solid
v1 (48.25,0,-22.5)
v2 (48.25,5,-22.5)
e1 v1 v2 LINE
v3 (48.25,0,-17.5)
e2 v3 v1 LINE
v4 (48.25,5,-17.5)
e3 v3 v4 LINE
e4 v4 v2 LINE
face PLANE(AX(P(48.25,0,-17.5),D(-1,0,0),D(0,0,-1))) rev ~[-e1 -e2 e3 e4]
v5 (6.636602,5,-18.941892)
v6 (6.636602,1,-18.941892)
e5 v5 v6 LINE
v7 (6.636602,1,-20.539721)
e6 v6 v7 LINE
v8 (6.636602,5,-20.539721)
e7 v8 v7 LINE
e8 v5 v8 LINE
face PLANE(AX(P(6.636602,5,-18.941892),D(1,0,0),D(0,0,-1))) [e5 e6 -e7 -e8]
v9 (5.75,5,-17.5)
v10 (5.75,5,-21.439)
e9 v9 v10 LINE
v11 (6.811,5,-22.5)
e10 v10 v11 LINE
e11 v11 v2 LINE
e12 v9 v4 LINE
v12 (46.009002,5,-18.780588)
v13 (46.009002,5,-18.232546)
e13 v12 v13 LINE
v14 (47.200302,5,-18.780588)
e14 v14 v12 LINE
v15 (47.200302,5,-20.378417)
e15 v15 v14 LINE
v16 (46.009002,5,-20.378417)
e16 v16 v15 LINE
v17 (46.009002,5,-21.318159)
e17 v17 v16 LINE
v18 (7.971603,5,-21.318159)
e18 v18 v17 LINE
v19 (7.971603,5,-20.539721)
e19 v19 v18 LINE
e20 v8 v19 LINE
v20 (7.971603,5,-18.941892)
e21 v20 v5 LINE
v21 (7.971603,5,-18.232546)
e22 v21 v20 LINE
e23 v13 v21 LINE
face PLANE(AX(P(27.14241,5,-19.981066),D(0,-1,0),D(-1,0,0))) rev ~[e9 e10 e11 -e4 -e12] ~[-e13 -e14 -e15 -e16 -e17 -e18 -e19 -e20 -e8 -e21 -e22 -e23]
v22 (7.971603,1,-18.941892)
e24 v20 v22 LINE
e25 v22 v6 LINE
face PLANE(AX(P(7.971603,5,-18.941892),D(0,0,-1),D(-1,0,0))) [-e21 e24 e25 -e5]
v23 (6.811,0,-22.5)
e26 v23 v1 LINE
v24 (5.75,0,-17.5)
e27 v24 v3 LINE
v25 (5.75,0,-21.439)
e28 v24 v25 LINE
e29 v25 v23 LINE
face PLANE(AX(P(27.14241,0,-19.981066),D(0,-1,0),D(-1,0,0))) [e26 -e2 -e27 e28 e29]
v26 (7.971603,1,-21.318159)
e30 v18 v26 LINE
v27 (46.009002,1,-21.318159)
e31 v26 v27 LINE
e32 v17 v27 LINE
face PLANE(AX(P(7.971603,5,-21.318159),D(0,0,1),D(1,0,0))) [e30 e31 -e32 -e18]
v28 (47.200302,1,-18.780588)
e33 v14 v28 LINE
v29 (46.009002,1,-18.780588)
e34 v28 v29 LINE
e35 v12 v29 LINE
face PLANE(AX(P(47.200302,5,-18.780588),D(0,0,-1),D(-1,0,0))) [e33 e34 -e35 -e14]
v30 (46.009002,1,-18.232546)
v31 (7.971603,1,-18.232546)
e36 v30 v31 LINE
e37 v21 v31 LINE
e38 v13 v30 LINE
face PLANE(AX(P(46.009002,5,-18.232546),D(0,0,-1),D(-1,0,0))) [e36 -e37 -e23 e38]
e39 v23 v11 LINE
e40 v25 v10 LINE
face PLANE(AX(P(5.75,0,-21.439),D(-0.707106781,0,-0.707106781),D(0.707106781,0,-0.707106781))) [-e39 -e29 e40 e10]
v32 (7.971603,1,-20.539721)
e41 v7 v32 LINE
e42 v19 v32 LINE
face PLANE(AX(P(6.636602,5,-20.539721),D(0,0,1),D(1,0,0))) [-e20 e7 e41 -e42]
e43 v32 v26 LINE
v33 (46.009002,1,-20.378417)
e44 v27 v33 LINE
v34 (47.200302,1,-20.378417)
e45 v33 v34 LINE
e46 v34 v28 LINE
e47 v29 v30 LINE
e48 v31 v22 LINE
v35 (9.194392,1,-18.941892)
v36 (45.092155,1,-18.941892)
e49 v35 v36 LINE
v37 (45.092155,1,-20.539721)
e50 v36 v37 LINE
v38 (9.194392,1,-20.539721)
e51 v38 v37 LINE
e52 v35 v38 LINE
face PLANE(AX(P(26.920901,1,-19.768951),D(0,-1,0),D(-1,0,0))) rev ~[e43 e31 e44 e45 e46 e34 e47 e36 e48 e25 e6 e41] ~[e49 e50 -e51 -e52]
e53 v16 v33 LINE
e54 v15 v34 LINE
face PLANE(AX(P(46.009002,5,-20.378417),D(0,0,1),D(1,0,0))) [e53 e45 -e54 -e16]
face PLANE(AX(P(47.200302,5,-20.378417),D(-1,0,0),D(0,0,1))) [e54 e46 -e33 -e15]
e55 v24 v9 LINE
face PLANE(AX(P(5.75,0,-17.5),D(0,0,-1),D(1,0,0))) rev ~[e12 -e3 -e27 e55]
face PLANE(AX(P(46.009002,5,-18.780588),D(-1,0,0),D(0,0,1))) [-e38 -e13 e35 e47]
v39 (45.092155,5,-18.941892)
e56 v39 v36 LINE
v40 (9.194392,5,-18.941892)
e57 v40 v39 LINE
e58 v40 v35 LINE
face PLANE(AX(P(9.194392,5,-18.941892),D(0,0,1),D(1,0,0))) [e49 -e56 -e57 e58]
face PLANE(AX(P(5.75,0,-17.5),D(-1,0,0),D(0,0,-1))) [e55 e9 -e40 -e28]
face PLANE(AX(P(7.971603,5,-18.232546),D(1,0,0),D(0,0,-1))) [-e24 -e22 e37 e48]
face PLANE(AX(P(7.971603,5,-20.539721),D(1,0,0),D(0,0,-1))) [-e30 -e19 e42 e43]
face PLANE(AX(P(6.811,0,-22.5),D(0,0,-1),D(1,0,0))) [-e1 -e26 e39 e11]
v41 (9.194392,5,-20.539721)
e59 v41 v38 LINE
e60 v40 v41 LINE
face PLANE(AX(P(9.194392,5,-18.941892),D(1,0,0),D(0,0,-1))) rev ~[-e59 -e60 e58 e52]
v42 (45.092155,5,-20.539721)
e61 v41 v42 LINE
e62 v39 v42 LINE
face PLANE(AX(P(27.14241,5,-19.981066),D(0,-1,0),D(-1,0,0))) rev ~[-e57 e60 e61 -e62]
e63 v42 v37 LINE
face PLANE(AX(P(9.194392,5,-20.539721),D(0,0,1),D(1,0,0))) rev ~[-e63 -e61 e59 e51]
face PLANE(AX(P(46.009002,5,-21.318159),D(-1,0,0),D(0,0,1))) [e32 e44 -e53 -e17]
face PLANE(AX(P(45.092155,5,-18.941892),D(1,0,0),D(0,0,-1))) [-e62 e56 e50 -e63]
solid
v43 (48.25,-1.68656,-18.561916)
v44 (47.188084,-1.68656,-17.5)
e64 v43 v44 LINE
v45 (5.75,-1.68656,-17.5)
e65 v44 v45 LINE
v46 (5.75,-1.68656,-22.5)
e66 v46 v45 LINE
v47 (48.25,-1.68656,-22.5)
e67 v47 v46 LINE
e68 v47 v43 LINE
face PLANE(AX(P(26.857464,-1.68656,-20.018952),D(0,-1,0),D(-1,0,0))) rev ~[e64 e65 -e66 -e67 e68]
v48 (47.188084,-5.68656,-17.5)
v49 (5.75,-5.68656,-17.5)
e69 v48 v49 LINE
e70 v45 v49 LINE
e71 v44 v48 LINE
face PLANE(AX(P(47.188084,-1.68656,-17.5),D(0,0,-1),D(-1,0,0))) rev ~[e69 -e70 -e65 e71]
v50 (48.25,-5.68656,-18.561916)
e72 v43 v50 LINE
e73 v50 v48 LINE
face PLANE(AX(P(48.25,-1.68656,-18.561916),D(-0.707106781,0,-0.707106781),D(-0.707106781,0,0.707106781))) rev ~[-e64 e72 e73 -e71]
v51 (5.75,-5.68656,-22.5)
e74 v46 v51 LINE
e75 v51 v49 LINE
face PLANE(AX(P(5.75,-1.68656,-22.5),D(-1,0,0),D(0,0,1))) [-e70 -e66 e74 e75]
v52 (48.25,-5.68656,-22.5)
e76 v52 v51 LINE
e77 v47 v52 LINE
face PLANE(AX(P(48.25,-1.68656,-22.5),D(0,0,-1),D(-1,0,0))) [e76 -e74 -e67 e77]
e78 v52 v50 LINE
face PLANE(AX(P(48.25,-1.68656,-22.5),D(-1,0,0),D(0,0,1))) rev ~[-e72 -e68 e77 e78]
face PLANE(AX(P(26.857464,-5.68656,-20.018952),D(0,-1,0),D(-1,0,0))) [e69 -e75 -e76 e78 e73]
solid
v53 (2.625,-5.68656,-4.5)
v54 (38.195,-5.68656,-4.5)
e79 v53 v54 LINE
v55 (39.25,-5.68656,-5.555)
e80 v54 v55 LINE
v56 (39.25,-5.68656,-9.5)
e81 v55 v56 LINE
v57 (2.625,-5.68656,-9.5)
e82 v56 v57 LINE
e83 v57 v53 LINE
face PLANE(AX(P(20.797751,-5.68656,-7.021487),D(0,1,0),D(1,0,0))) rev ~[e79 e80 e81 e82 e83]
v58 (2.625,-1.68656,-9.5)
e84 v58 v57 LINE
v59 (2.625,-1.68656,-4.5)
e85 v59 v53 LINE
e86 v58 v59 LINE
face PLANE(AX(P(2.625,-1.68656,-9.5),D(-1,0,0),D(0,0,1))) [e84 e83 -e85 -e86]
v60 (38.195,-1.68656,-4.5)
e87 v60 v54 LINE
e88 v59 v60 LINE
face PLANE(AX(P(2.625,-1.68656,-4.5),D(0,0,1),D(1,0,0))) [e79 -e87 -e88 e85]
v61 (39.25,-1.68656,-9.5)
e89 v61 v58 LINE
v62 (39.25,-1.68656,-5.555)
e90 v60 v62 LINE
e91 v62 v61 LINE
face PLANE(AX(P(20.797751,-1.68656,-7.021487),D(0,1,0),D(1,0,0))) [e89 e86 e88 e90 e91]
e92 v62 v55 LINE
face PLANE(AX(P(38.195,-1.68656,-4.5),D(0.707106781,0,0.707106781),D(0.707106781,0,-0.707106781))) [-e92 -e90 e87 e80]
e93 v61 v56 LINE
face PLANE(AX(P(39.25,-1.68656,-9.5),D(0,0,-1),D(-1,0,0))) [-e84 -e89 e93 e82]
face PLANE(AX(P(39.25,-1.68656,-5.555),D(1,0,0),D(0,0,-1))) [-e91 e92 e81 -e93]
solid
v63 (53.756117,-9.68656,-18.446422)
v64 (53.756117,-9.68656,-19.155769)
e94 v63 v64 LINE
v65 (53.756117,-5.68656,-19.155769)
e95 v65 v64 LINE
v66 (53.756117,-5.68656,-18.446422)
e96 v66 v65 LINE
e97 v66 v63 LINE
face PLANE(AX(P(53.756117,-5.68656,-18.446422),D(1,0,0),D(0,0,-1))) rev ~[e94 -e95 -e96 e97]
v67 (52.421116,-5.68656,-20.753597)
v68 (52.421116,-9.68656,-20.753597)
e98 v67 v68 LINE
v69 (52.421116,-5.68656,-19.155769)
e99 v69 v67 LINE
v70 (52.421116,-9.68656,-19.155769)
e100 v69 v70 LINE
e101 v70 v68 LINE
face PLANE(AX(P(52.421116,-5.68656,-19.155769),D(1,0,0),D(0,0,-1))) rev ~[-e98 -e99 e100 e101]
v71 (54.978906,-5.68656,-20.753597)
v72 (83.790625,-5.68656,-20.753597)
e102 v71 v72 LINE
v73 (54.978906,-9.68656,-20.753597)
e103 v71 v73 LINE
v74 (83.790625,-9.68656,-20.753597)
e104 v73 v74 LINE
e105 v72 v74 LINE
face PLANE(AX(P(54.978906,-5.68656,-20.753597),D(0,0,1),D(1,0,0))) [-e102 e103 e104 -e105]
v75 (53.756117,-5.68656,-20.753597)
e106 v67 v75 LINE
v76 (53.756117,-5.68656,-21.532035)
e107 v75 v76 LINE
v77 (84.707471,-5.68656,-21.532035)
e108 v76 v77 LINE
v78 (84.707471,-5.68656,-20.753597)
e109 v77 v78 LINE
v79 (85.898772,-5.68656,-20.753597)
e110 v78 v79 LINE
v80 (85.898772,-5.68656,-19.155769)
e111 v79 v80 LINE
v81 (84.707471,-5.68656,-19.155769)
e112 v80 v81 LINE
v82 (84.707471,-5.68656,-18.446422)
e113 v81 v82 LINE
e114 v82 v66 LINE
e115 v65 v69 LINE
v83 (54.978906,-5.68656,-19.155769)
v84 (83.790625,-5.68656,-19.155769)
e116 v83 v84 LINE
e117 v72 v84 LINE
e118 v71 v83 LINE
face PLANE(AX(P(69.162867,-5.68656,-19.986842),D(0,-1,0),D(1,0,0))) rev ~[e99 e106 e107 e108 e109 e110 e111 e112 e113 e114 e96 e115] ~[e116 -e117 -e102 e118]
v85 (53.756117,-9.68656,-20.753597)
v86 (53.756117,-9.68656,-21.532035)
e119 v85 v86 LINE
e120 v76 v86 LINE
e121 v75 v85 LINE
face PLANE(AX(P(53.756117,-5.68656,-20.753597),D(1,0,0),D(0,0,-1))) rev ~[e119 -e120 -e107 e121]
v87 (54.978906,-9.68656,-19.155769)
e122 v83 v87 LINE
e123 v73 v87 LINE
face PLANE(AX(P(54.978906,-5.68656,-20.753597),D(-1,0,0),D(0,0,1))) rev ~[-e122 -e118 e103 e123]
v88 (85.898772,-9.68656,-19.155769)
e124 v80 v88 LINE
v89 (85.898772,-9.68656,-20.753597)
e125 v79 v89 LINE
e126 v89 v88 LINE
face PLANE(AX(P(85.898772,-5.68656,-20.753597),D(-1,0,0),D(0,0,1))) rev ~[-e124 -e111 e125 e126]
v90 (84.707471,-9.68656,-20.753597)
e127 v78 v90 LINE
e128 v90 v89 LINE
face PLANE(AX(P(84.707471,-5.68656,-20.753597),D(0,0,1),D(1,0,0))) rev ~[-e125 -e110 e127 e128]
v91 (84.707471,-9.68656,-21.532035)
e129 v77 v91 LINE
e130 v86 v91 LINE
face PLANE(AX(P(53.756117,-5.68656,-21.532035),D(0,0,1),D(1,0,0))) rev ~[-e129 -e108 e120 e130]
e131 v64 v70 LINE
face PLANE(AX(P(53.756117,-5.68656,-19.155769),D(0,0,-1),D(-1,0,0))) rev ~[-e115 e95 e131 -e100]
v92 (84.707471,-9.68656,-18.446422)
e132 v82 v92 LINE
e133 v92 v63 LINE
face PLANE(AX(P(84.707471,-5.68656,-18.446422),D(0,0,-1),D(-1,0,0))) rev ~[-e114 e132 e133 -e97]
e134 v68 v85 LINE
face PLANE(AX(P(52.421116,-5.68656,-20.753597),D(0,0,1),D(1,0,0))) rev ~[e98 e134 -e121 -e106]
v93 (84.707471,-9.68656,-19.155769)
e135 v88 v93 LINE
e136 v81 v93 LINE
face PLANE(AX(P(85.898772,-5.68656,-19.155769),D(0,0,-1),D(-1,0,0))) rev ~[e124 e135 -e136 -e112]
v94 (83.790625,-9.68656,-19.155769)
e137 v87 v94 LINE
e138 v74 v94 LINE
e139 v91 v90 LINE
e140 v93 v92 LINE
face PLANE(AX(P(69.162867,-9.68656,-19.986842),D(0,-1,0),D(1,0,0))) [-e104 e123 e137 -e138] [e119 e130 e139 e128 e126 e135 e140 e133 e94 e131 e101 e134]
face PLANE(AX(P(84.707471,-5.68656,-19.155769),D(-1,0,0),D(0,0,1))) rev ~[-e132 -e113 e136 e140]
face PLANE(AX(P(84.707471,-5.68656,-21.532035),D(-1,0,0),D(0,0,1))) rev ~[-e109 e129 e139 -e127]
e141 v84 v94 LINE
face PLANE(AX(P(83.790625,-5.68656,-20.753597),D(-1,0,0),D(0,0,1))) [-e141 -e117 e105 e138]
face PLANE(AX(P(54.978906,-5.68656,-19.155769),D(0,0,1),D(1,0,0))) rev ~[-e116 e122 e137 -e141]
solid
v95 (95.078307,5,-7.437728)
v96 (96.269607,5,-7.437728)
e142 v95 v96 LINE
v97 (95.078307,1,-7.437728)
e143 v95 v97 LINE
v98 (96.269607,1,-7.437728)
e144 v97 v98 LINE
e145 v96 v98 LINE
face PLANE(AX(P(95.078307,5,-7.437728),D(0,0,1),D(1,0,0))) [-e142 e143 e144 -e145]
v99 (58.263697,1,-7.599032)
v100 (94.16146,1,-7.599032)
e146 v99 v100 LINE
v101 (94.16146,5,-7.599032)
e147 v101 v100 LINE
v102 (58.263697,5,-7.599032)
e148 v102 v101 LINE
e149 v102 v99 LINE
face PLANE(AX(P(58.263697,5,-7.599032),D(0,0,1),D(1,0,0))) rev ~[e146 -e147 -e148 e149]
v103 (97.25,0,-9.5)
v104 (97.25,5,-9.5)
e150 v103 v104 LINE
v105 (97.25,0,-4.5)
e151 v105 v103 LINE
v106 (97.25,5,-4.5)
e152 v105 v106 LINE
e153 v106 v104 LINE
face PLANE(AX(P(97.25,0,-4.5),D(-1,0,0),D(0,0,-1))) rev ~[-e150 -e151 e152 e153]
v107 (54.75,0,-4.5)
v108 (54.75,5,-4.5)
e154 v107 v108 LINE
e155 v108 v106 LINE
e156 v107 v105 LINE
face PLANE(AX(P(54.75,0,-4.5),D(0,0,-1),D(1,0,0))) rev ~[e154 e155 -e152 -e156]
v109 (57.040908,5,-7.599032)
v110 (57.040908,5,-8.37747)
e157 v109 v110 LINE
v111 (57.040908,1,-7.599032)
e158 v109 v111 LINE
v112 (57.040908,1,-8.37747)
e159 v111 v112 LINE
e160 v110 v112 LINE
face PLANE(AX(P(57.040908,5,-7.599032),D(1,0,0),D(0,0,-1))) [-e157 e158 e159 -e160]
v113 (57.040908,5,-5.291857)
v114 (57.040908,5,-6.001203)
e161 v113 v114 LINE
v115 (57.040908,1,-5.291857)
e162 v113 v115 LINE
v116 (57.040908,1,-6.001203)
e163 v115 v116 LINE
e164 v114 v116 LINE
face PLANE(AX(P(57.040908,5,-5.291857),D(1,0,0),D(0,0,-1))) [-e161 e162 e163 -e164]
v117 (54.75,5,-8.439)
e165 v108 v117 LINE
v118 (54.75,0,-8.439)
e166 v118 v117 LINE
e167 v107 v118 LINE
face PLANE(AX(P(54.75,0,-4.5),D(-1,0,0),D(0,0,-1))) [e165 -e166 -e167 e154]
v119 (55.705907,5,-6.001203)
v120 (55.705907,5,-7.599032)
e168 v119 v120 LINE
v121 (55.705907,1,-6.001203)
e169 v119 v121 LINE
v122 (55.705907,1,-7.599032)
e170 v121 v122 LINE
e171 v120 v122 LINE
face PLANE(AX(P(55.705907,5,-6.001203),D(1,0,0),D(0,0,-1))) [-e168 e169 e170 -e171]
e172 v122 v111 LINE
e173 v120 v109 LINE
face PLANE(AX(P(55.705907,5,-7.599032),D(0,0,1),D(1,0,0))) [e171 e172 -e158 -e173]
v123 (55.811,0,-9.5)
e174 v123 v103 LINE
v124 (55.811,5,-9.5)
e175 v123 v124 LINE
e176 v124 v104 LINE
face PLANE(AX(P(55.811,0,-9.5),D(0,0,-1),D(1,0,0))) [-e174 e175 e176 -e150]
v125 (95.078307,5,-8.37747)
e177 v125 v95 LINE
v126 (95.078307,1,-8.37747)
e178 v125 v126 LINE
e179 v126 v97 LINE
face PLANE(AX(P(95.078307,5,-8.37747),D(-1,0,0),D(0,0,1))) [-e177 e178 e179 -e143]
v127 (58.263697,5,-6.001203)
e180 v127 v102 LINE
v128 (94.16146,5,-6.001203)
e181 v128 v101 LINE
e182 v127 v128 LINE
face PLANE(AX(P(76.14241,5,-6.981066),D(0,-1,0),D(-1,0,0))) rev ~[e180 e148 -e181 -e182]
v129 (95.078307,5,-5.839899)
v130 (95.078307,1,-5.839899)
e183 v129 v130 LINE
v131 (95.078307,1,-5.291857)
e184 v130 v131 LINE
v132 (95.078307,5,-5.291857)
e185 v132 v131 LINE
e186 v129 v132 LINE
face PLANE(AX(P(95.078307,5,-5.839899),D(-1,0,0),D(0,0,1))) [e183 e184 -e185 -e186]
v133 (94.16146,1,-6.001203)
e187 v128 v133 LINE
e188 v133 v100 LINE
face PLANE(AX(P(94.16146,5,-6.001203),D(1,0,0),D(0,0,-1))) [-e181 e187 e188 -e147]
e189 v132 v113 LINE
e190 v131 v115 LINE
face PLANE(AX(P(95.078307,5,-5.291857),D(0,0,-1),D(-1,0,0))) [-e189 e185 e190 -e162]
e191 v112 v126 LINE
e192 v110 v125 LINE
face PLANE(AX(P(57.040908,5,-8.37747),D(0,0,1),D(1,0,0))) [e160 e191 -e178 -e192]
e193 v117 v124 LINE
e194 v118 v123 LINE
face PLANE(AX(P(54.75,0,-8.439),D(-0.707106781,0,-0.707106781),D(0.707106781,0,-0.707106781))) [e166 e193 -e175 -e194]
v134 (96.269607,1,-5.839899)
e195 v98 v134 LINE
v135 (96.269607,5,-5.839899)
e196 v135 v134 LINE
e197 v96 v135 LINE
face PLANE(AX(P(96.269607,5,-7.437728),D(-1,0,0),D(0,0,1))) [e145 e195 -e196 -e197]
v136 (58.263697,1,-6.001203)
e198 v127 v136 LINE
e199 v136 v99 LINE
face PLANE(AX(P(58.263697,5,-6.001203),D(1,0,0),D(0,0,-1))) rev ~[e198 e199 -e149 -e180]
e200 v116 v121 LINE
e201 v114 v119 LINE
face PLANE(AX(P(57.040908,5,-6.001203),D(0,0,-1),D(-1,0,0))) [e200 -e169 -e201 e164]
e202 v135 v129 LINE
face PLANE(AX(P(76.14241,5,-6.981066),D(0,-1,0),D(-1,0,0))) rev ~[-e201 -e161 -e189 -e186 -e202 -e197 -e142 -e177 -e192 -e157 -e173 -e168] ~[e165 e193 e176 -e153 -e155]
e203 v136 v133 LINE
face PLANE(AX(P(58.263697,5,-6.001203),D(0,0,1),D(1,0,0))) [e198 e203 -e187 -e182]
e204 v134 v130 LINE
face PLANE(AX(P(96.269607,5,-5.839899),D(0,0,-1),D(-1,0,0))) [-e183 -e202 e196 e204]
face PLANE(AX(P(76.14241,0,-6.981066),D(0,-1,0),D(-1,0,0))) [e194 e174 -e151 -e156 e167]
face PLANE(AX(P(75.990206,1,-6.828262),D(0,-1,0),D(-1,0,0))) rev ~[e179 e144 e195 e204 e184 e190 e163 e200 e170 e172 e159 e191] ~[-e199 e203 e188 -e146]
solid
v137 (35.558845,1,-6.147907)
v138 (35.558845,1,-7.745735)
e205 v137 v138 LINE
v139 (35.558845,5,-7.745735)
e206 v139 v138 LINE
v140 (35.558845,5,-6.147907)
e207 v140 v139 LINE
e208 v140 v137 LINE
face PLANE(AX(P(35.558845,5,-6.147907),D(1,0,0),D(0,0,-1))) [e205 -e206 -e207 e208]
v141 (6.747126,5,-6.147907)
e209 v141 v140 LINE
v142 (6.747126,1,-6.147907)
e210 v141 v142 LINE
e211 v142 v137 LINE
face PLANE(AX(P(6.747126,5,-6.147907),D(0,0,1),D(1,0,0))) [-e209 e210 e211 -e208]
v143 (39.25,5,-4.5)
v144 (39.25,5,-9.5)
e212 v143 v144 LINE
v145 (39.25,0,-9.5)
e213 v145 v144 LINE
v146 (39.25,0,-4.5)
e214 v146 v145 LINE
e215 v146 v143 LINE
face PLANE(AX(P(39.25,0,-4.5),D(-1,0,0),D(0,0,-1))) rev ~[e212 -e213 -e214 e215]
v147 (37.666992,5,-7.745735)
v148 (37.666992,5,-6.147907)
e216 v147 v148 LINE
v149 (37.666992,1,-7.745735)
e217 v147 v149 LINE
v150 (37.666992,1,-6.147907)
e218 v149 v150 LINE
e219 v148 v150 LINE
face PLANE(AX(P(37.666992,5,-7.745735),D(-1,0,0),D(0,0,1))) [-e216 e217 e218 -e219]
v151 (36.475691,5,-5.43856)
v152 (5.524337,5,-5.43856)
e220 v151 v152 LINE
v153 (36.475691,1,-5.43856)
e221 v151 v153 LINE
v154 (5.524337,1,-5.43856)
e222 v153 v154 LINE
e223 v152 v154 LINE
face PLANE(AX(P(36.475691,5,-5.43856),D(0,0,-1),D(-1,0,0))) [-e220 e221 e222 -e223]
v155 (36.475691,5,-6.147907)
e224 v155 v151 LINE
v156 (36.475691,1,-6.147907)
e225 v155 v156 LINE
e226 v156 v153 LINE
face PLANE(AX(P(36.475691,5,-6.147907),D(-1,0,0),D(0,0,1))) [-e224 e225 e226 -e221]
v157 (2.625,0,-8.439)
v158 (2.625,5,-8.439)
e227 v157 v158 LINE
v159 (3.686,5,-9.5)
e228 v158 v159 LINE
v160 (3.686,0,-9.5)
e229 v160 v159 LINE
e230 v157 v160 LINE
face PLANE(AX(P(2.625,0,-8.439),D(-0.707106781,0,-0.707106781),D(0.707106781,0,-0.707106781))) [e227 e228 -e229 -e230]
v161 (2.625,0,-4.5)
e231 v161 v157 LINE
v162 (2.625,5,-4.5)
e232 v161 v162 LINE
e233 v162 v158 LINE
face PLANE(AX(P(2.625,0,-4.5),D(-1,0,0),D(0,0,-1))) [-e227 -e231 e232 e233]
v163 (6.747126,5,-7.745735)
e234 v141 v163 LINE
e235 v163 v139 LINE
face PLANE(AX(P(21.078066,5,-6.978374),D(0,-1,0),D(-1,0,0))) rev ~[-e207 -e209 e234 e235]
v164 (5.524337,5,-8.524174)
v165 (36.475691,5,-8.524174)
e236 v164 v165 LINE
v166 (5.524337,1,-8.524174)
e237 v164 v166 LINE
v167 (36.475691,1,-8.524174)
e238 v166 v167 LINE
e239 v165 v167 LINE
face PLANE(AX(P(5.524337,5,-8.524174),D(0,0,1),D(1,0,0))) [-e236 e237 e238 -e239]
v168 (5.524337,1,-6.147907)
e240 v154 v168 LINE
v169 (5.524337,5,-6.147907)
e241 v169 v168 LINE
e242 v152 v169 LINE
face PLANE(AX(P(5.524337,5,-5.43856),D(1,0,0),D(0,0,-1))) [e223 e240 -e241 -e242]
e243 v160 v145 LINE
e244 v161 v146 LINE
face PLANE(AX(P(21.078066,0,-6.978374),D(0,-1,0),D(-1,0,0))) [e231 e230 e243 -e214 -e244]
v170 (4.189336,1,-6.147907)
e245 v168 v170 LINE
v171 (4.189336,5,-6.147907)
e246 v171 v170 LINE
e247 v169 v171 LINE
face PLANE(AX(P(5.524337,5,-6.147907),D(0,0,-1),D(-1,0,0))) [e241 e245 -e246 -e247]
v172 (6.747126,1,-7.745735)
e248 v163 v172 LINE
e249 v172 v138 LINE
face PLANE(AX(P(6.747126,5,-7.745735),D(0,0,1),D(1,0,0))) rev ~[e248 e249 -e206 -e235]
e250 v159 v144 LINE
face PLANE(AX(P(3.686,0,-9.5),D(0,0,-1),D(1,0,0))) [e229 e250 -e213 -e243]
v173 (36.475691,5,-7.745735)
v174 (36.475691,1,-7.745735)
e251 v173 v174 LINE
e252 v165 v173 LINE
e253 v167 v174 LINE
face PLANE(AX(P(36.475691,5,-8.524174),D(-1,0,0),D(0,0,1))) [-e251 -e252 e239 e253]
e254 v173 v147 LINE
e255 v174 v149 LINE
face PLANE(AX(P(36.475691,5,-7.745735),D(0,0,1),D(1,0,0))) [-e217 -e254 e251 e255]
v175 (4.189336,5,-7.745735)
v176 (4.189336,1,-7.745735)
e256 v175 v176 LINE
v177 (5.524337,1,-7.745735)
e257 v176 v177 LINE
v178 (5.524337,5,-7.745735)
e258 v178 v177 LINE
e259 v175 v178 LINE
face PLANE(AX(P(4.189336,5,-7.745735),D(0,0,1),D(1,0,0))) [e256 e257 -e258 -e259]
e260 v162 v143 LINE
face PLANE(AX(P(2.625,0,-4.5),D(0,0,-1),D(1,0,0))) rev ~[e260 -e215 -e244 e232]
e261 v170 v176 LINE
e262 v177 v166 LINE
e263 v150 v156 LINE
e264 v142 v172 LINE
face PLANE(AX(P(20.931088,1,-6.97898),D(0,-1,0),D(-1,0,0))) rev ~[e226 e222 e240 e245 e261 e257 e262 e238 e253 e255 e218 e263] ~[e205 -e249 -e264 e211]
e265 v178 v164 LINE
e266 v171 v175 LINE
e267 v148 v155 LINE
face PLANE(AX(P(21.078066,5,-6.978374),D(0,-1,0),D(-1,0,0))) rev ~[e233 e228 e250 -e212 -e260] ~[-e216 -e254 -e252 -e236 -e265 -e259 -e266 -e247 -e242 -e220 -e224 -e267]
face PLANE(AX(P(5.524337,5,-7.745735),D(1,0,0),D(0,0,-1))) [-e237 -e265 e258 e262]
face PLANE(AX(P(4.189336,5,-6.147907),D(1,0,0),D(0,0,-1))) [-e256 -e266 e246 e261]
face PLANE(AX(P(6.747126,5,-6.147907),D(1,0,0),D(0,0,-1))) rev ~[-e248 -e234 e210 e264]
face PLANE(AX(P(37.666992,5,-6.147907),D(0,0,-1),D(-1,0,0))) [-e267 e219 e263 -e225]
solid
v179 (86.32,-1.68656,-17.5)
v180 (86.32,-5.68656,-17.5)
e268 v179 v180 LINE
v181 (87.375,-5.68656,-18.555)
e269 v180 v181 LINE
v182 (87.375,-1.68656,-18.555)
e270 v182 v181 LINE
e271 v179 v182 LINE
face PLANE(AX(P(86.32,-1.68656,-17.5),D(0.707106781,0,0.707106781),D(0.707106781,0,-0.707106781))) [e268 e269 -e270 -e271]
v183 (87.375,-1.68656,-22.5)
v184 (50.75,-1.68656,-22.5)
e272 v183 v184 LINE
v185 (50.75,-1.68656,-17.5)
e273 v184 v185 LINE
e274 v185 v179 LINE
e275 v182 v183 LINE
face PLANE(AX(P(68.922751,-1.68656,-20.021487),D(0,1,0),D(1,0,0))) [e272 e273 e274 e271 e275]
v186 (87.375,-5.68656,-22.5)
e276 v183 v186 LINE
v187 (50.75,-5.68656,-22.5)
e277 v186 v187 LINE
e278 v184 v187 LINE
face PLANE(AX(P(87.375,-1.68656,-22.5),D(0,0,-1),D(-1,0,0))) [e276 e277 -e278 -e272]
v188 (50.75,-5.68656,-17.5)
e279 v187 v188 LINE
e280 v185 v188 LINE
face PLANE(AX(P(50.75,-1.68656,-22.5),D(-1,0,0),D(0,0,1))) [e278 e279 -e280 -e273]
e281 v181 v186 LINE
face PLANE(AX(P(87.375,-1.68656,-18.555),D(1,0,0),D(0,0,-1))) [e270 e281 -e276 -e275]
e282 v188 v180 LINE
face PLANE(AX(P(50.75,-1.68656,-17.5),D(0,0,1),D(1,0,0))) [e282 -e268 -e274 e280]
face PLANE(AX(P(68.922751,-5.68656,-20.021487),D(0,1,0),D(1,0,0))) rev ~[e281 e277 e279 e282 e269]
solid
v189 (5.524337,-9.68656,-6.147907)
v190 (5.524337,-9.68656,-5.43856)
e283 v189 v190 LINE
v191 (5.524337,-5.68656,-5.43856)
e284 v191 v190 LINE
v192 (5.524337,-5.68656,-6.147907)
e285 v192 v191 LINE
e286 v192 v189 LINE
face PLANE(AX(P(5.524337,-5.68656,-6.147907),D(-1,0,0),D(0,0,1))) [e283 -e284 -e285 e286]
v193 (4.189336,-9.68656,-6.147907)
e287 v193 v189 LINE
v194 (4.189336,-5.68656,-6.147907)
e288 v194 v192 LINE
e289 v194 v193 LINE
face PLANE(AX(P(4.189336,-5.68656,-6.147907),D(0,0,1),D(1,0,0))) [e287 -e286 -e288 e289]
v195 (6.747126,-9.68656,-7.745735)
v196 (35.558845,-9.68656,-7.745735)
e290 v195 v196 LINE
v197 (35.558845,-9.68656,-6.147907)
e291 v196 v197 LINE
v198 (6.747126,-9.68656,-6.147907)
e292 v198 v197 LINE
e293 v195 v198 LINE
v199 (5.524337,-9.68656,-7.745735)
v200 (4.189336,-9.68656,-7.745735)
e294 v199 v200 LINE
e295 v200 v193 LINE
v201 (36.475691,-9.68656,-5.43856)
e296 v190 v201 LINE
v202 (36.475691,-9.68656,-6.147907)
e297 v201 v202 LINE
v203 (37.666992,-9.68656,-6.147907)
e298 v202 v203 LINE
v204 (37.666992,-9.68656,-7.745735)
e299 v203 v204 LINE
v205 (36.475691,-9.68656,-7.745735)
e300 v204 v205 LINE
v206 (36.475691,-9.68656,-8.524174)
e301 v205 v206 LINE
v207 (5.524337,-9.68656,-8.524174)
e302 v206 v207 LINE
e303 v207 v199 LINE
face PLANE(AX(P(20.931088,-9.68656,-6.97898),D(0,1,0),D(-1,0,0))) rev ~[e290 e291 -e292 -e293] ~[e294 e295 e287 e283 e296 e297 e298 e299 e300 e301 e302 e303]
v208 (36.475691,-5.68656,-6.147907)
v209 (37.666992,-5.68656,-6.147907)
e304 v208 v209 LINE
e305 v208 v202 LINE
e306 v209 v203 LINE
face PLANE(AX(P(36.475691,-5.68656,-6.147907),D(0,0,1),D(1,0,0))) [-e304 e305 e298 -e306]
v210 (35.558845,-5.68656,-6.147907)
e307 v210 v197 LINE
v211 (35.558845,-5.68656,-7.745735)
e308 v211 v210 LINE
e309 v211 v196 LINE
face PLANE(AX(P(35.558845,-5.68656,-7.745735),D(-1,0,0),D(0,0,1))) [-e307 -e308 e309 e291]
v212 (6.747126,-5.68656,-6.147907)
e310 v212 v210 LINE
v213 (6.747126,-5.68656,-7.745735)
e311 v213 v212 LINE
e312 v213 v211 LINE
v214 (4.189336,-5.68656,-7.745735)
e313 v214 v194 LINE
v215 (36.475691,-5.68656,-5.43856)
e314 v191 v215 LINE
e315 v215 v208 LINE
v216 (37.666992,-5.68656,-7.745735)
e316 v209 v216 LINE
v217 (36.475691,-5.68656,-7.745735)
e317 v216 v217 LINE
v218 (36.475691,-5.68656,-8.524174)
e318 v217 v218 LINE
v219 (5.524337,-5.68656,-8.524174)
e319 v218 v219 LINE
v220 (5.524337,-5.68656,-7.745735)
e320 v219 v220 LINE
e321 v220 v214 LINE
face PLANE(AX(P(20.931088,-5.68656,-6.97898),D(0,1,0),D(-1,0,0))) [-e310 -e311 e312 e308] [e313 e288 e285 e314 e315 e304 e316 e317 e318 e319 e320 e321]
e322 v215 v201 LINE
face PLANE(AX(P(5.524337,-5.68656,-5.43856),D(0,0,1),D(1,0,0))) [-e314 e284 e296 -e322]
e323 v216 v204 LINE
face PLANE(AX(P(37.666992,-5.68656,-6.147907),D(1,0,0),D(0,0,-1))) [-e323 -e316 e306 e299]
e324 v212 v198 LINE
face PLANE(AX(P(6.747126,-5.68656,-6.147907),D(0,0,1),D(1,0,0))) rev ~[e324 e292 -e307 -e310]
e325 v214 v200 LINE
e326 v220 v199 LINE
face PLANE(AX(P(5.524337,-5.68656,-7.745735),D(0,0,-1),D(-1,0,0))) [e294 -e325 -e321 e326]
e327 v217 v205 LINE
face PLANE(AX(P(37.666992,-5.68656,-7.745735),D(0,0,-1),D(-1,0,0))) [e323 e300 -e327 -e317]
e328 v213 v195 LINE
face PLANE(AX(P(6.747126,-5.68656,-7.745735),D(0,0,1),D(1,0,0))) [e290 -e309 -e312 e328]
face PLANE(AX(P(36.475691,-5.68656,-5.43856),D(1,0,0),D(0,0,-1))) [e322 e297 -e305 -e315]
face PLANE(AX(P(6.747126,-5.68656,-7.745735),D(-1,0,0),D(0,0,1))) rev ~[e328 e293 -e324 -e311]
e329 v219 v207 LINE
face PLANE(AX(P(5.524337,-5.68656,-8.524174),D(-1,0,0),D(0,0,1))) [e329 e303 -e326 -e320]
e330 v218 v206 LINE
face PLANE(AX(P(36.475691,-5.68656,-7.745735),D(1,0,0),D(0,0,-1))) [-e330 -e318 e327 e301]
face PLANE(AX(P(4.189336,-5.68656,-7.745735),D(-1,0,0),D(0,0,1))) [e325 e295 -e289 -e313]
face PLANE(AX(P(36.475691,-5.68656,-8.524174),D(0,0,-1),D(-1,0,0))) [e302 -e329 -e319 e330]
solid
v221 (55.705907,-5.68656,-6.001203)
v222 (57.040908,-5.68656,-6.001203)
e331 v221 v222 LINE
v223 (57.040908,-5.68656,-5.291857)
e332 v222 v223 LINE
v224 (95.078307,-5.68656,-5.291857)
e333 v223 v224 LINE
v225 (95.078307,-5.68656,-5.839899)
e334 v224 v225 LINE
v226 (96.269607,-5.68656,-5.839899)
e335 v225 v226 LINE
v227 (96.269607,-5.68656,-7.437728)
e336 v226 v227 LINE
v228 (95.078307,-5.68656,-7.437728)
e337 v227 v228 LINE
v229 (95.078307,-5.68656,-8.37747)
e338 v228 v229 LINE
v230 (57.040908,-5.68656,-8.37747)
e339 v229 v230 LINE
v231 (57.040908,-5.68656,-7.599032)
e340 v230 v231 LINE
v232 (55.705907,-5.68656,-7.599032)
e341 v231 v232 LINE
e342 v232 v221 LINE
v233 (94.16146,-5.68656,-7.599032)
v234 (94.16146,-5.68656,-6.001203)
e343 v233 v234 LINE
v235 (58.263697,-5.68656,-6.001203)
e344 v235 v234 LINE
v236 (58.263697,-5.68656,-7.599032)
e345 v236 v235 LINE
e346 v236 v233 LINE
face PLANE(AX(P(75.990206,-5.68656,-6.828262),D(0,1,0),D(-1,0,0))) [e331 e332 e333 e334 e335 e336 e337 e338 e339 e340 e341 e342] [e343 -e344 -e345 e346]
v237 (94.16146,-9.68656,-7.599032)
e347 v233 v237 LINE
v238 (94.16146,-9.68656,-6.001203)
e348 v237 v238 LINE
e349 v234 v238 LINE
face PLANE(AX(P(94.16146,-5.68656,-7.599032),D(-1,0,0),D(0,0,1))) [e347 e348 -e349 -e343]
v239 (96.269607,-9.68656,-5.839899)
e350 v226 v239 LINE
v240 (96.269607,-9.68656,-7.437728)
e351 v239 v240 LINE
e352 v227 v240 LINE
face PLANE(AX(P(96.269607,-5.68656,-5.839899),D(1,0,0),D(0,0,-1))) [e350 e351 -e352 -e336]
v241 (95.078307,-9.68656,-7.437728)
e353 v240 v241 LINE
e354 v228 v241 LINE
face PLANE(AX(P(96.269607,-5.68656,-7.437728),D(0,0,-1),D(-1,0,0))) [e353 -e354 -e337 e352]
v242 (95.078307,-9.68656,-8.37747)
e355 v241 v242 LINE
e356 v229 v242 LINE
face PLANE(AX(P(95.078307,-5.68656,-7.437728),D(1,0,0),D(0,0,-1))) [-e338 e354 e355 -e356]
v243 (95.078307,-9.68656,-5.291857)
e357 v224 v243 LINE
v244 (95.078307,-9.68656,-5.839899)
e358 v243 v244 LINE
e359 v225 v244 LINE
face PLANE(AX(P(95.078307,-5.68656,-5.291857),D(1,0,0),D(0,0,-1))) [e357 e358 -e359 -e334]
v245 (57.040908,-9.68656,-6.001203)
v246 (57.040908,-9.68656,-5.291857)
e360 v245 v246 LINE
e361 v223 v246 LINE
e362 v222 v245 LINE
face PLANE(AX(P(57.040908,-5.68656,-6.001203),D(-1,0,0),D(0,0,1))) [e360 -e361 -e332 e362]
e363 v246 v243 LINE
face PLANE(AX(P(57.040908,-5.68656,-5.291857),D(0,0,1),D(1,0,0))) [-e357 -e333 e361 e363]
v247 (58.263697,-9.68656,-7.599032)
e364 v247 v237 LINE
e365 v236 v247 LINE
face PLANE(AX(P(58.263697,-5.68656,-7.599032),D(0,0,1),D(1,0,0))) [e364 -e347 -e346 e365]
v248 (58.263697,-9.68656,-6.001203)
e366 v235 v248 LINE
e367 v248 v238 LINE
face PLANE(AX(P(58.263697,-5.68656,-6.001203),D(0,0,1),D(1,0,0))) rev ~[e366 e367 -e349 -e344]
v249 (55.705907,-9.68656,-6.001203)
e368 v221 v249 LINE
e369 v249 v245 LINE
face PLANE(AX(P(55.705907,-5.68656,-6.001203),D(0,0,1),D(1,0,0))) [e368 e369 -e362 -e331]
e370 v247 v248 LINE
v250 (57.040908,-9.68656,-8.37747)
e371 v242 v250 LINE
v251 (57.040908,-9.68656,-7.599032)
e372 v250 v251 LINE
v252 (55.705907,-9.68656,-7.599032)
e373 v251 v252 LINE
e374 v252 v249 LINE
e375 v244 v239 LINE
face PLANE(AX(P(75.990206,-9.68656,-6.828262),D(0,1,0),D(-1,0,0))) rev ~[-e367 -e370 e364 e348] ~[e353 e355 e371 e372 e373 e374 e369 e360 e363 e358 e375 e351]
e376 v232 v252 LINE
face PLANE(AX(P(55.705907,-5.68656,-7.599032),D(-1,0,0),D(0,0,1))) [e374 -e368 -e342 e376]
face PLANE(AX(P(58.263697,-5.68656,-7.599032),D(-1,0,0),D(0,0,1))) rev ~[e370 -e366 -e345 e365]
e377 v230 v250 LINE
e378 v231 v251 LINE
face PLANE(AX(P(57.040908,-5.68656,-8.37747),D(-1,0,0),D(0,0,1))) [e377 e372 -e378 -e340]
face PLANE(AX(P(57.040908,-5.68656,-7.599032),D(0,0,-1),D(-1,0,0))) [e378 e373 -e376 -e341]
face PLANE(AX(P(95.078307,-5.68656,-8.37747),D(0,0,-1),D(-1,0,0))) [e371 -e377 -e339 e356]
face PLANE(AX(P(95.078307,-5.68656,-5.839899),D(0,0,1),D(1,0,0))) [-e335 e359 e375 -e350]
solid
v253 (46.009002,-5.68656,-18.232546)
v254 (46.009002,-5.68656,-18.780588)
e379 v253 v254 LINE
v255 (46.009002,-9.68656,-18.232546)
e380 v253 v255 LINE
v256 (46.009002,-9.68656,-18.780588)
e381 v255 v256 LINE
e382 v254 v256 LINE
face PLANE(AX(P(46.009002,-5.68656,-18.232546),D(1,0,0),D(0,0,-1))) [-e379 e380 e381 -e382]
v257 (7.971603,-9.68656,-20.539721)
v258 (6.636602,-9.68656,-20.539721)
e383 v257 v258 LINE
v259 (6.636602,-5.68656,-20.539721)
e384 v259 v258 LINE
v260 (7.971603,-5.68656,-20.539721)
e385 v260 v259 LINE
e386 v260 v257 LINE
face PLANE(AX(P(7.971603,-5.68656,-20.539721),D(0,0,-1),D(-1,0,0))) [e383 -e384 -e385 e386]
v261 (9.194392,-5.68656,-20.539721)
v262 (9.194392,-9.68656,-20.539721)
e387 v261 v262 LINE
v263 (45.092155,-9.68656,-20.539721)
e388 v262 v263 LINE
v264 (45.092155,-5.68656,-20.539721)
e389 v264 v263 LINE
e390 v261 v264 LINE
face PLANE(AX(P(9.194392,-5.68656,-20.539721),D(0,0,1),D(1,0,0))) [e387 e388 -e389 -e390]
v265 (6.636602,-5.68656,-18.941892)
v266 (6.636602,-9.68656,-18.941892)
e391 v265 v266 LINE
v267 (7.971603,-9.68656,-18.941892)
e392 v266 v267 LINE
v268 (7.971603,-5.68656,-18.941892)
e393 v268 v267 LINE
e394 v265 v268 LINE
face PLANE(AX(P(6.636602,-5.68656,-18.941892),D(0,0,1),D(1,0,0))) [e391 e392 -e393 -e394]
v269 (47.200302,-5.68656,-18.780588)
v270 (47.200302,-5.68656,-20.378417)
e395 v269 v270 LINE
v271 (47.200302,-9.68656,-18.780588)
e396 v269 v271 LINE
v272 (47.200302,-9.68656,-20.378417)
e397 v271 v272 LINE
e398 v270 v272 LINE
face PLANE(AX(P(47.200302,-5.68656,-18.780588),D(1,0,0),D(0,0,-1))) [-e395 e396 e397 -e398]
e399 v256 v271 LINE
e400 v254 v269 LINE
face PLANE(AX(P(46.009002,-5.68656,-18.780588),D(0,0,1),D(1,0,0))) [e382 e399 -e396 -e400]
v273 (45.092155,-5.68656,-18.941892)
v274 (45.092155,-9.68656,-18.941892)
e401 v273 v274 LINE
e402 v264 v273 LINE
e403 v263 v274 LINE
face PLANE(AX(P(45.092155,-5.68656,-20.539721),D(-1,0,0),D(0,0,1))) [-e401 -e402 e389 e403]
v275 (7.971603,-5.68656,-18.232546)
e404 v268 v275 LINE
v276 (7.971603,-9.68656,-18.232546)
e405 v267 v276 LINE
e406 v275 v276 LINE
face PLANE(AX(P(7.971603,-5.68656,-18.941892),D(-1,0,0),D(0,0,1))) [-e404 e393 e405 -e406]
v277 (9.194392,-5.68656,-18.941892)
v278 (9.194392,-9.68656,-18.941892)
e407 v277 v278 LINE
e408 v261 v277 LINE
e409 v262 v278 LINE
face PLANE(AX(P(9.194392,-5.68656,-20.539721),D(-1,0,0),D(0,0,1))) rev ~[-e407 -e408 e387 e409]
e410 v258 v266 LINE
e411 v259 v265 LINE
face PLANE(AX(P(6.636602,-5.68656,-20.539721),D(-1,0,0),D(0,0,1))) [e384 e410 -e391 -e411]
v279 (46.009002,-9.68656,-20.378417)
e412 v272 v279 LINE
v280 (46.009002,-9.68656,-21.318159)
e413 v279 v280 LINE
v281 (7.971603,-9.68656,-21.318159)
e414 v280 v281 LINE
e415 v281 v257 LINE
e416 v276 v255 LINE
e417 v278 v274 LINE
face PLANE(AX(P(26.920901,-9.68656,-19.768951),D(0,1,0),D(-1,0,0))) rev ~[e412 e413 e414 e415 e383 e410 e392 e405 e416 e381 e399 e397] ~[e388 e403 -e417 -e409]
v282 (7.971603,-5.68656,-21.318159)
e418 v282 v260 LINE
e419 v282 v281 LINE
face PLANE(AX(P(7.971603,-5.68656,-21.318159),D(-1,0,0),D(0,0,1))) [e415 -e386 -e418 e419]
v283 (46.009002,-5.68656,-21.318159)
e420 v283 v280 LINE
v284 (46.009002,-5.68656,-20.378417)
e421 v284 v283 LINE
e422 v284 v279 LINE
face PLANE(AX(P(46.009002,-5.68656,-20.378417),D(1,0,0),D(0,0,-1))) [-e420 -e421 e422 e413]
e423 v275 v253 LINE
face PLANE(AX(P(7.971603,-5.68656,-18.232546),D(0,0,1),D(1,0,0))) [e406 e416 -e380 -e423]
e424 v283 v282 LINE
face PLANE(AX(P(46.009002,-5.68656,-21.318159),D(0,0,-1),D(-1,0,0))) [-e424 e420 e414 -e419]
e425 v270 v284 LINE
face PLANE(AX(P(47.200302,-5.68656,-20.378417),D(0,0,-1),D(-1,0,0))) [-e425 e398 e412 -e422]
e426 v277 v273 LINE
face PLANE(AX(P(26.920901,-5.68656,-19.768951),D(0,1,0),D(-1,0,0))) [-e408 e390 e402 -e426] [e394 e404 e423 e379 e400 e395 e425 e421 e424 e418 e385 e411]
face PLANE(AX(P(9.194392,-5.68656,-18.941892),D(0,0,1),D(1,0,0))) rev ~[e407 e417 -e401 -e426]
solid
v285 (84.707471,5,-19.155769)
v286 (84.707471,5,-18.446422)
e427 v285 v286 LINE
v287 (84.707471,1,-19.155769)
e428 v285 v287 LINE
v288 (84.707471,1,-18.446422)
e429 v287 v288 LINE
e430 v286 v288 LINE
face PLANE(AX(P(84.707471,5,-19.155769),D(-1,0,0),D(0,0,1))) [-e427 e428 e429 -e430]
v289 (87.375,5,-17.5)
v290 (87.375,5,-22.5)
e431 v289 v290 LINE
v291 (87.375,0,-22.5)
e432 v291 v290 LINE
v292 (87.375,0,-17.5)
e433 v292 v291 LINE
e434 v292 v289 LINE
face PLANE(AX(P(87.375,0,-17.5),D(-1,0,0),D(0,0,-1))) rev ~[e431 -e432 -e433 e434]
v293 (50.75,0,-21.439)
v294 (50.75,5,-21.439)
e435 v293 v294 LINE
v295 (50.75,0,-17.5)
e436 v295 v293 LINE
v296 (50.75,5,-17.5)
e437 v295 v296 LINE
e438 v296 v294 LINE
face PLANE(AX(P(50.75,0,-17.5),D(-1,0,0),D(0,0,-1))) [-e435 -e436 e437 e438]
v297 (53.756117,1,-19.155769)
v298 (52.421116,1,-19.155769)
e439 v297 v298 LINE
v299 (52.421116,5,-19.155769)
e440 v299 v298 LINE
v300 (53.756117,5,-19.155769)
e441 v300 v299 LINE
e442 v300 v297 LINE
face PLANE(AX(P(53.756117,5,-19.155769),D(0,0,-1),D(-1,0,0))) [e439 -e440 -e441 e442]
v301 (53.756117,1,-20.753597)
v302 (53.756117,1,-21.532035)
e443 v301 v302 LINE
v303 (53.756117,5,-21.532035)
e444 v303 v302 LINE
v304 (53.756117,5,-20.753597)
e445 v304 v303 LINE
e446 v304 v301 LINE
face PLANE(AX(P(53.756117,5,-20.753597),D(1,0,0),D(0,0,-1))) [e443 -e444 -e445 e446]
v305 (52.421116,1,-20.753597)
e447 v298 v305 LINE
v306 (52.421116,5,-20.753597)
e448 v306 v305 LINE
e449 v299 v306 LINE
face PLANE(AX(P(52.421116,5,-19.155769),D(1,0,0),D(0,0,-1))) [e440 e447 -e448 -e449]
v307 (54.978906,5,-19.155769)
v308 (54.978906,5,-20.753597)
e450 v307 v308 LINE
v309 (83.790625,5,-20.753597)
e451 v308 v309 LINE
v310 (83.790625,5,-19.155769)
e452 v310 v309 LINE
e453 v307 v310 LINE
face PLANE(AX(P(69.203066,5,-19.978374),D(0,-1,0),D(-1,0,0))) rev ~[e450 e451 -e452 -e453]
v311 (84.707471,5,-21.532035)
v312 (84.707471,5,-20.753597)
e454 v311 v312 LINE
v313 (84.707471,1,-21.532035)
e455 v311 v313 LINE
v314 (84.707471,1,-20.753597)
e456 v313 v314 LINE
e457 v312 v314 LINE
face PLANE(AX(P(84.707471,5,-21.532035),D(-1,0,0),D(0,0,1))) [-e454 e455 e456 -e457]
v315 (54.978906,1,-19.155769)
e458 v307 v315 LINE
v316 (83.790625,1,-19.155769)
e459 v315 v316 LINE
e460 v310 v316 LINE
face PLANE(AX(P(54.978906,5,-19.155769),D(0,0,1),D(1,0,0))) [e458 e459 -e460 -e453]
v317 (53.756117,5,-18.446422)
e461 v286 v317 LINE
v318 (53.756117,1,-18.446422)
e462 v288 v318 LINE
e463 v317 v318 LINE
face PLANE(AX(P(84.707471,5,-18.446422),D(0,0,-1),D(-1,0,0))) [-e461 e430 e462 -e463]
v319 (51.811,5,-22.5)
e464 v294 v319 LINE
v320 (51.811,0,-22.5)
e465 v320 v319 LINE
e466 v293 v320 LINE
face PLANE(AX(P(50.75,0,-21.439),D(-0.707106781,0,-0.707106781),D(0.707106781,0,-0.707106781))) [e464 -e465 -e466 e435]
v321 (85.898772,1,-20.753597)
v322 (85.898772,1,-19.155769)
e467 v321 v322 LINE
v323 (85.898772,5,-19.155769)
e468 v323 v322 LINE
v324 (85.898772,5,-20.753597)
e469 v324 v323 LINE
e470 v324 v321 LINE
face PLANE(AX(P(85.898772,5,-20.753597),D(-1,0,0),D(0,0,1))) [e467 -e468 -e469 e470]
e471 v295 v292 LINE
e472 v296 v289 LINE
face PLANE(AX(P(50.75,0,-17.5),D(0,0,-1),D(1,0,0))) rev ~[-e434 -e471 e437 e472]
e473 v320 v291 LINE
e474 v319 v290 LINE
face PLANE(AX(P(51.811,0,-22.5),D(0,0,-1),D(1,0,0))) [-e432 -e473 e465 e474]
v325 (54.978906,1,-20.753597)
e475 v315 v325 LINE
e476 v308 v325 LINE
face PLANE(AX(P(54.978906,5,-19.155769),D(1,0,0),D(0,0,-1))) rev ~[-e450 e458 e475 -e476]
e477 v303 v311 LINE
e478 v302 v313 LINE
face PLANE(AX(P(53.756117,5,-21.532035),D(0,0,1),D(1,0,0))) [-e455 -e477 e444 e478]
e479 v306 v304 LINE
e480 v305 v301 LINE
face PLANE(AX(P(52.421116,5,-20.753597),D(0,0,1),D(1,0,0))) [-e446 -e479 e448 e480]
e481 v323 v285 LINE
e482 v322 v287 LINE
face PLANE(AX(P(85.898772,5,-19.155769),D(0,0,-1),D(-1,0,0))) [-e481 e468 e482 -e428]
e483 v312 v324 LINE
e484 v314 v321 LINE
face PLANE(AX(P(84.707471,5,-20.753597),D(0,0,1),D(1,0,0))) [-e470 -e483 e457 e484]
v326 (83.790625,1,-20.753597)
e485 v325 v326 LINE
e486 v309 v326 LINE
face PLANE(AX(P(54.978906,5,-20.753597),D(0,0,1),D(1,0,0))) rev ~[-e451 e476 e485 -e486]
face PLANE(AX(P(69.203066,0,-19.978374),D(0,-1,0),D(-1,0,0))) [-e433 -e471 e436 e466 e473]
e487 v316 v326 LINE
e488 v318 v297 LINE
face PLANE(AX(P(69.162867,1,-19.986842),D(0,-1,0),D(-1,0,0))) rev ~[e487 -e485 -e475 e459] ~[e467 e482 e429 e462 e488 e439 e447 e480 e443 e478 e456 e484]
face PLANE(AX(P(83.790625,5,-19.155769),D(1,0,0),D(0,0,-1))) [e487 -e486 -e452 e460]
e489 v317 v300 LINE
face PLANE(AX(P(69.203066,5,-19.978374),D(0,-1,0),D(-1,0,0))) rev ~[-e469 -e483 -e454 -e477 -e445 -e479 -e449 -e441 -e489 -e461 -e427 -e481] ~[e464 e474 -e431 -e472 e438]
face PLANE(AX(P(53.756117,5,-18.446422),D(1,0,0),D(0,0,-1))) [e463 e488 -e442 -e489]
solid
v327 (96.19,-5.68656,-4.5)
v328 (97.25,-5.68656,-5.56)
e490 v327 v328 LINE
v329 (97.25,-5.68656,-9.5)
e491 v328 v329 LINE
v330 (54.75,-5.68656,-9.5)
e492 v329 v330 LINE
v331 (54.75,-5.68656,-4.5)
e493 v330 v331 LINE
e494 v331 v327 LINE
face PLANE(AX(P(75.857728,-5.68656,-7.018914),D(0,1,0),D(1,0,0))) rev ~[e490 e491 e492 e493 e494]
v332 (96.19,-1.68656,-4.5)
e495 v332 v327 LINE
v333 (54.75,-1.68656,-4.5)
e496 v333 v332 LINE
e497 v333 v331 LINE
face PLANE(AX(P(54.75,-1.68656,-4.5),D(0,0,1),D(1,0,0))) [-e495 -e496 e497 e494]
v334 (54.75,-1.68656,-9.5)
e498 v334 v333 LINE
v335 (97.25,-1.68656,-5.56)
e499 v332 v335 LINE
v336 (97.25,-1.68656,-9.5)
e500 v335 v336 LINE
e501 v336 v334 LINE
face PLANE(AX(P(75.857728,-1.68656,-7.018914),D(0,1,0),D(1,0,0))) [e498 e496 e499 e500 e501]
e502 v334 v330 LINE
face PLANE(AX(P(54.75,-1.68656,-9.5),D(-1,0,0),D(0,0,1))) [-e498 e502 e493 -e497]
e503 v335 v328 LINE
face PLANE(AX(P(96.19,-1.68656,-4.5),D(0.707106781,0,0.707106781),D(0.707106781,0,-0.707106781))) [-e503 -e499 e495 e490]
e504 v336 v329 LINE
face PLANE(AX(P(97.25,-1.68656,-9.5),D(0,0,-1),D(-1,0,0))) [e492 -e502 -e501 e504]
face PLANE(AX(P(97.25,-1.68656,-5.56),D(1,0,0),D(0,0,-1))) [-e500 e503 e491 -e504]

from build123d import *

# Parameters (mm, degrees)
SV_DEPTH           = 5
SV_2_DEPTH         = 5
SV_3_DEPTH         = 5
SV_4_DEPTH         = 5
SKETCH3_W          = 28.811718275
SKETCH3_H          = 1.597828601
SKETCH3_W_2        = 35.897762959
SKETCH3_W_3        = 35.897762958
CUT_EXTRUDE1_DEPTH = 4
SV4_A_DEPTH        = 4
SV4_A_2_DEPTH      = 4
SV4_A_3_DEPTH      = 4
SV4_A_4_DEPTH      = 4
SKETCH7_W          = 35.897762958
SKETCH7_H          = 1.597828601
SV4_B_DEPTH        = 4
SKETCH7_W_2        = 28.811718275
SV4_B_2_DEPTH      = 4
SKETCH7_W_3        = 35.897762959
SV4_B_3_DEPTH      = 4
SV4_B_4_DEPTH      = 4


with BuildPart() as part:
    # Sketch1 → SV (new body)
    with BuildSketch(Plane(origin=(0, 0, 0), x_dir=(1, 0, 0), z_dir=(0, 1, 0))):
        Polygon((55.811, 9.5), (97.25, 9.5), (97.25, 5.56), (97.25, 4.5), (96.19, 4.5), (54.75, 4.5), (54.75, 8.439), align=None)
    extrude(amount=SV_DEPTH)


with BuildPart() as body_2:
    # Sketch1 → SV 2 (new body)
    with BuildSketch(Plane(origin=(0, 0, 0), x_dir=(1, 0, 0), z_dir=(0, 1, 0))):
        Polygon((3.686, 9.5), (39.25, 9.5), (39.25, 5.555), (39.25, 4.5), (38.195, 4.5), (2.625, 4.5), (2.625, 8.439), align=None)
    extrude(amount=SV_2_DEPTH)


with BuildPart() as body_3:
    # Sketch1 → SV 3 (new body)
    with BuildSketch(Plane(origin=(0, 0, 0), x_dir=(1, 0, 0), z_dir=(0, 1, 0))):
        Polygon((51.811, 22.5), (87.375, 22.5), (87.375, 18.555), (87.375, 17.5), (86.32, 17.5), (50.75, 17.5), (50.75, 21.439), align=None)
    extrude(amount=SV_3_DEPTH)


with BuildPart() as body_4:
    # Sketch1 → SV 4 (new body)
    with BuildSketch(Plane(origin=(0, 0, 0), x_dir=(1, 0, 0), z_dir=(0, 1, 0))):
        Polygon((6.811, 22.5), (48.25, 22.5), (48.25, 18.56), (48.25, 17.5), (47.19, 17.5), (5.75, 17.5), (5.75, 21.439), align=None)
    extrude(amount=SV_4_DEPTH)


with BuildPart() as cut_extrude1_tool:
    # Sketch3 → Cut-Extrude1 (new body)
    # profile 1 of 4: a face of its own
    with BuildSketch(Plane(origin=(0, 5, 0), x_dir=(1, 0, 0), z_dir=(0, 1, 0))):
        Polygon((4.189336253, 7.745735487), (5.524337048, 7.745735487), (5.524337048, 8.524173538), (36.475691419, 8.524173538), (36.475691419, 7.745735487), (37.666991912, 7.745735487), (37.666991912, 6.147906886), (36.475691419, 6.147906886), (36.475691419, 5.438560322), (5.524337048, 5.438560322), (5.524337048, 6.147906886), (4.189336253, 6.147906886), align=None)
        with Locations((21.152985591, 6.946821187)):
            Rectangle(SKETCH3_W, SKETCH3_H, mode=Mode.SUBTRACT)
    # profile 2 of 4: a face of its own
    with BuildSketch(Plane(origin=(0, 5, 0), x_dir=(1, 0, 0), z_dir=(0, 1, 0))):
        Polygon((52.421116037, 20.753597434), (53.756116831, 20.753597434), (53.756116831, 21.532035485), (84.707471203, 21.532035485), (84.707471203, 20.753597434), (85.898771695, 20.753597434), (85.898771695, 19.155768833), (84.707471203, 19.155768833), (84.707471203, 18.446422269), (53.756116831, 18.446422269), (53.756116831, 19.155768833), (52.421116037, 19.155768833), align=None)
        with Locations((69.384765375, 19.954683133)):
            Rectangle(SKETCH3_W, SKETCH3_H, mode=Mode.SUBTRACT)
    # profile 3 of 4: a face of its own
    with BuildSketch(Plane(origin=(0, 5, 0), x_dir=(1, 0, 0), z_dir=(0, 1, 0))):
        Polygon((55.705906871, 7.599031898), (57.040907666, 7.599031898), (57.040907666, 8.377469948), (95.07830672, 8.377469948), (95.07830672, 7.437727621), (96.269607213, 7.437727621), (96.269607213, 5.83989902), (95.07830672, 5.83989902), (95.07830672, 5.291856733), (57.040907666, 5.291856733), (57.040907666, 6.001203297), (55.705906871, 6.001203297), align=None)
        with Locations((76.21257855, 6.800117597)):
            Rectangle(SKETCH3_W_2, SKETCH3_H, mode=Mode.SUBTRACT)
    # profile 4 of 4: a face of its own
    with BuildSketch(Plane(origin=(0, 5, 0), x_dir=(1, 0, 0), z_dir=(0, 1, 0))):
        Polygon((6.636601859, 20.53972103), (7.971602653, 20.53972103), (7.971602653, 21.318159081), (46.009001708, 21.318159081), (46.009001708, 20.378416754), (47.2003022, 20.378416754), (47.2003022, 18.780588153), (46.009001708, 18.780588153), (46.009001708, 18.232545866), (7.971602653, 18.232545866), (7.971602653, 18.941892429), (6.636601859, 18.941892429), align=None)
        with Locations((27.143273538, 19.74080673)):
            Rectangle(SKETCH3_W_3, SKETCH3_H, mode=Mode.SUBTRACT)
    extrude(amount=-CUT_EXTRUDE1_DEPTH)


with BuildPart() as part_1:
    add(part.part)

    # Cut-Extrude1: cut by cut_extrude1_tool
    add(cut_extrude1_tool.part, mode=Mode.SUBTRACT)


with BuildPart() as body_2_1:
    add(body_2.part)

    # Cut-Extrude1: cut by cut_extrude1_tool
    add(cut_extrude1_tool.part, mode=Mode.SUBTRACT)


with BuildPart() as body_3_1:
    add(body_3.part)

    # Cut-Extrude1: cut by cut_extrude1_tool
    add(cut_extrude1_tool.part, mode=Mode.SUBTRACT)


with BuildPart() as body_4_1:
    add(body_4.part)

    # Cut-Extrude1: cut by cut_extrude1_tool
    add(cut_extrude1_tool.part, mode=Mode.SUBTRACT)


with BuildPart() as body_5:
    # Sketch6 → SV4(a) (new body)
    with BuildSketch(Plane(origin=(0, -1.68656, 0), x_dir=(1, 0, 0), z_dir=(0, 1, 0))):
        Polygon((2.625, 4.5), (38.195, 4.5), (39.25, 5.555), (39.25, 9.5), (3.685, 9.5), (2.625, 9.5), (2.625, 8.44), align=None)
    extrude(amount=-SV4_A_DEPTH)


with BuildPart() as body_6:
    # Sketch6 → SV4_a 2 (new body)
    with BuildSketch(Plane(origin=(0, -1.68656, 0), x_dir=(1, 0, 0), z_dir=(0, 1, 0))):
        Polygon((48.25, 18.56191605), (47.18808395, 17.5), (5.75, 17.5), (5.75, 21.44), (5.75, 22.5), (6.81, 22.5), (48.25, 22.5), align=None)
    extrude(amount=-SV4_A_2_DEPTH)


with BuildPart() as body_7:
    # Sketch6 → SV4_a 3 (new body)
    with BuildSketch(Plane(origin=(0, -1.68656, 0), x_dir=(1, 0, 0), z_dir=(0, 1, 0))):
        Polygon((54.75, 4.5), (96.19, 4.5), (97.25, 5.56), (97.25, 9.5), (55.81, 9.5), (54.75, 9.5), (54.75, 8.44), align=None)
    extrude(amount=-SV4_A_3_DEPTH)


with BuildPart() as body_8:
    # Sketch6 → SV4_a 4 (new body)
    with BuildSketch(Plane(origin=(0, -1.68656, 0), x_dir=(1, 0, 0), z_dir=(0, 1, 0))):
        Polygon((50.75, 17.5), (86.32, 17.5), (87.375, 18.555), (87.375, 22.5), (51.805, 22.5), (50.75, 22.5), (50.75, 21.445), align=None)
    extrude(amount=-SV4_A_4_DEPTH)


with BuildPart() as body_9:
    # Sketch7 → SV4(b) (new body)
    with BuildSketch(Plane.XZ.offset(5.68656)):
        Polygon((7.971602653, -21.318159081), (7.971602653, -20.53972103), (6.636601859, -20.53972103), (6.636601859, -18.941892429), (7.971602653, -18.941892429), (7.971602653, -18.232545866), (46.009001708, -18.232545866), (46.009001708, -18.780588153), (47.2003022, -18.780588153), (47.2003022, -20.378416754), (46.009001708, -20.378416754), (46.009001708, -21.318159081), align=None)
        with Locations((27.143273538, -19.74080673)):
            Rectangle(SKETCH7_W, SKETCH7_H, mode=Mode.SUBTRACT)
    extrude(amount=SV4_B_DEPTH)


with BuildPart() as body_10:
    # Sketch7 → SV4_b 2 (new body)
    with BuildSketch(Plane.XZ.offset(5.68656)):
        Polygon((53.756116831, -21.532035485), (84.707471203, -21.532035485), (84.707471203, -20.753597434), (85.898771695, -20.753597434), (85.898771695, -19.155768833), (84.707471203, -19.155768833), (84.707471203, -18.446422269), (53.756116831, -18.446422269), (53.756116831, -19.155768833), (52.421116037, -19.155768833), (52.421116037, -20.753597434), (53.756116831, -20.753597434), align=None)
        with Locations((69.384765375, -19.954683133)):
            Rectangle(SKETCH7_W_2, SKETCH7_H, mode=Mode.SUBTRACT)
    extrude(amount=SV4_B_2_DEPTH)


with BuildPart() as body_11:
    # Sketch7 → SV4_b 3 (new body)
    with BuildSketch(Plane.XZ.offset(5.68656)):
        Polygon((57.040907666, -8.377469948), (57.040907666, -7.599031898), (55.705906871, -7.599031898), (55.705906871, -6.001203297), (57.040907666, -6.001203297), (57.040907666, -5.291856733), (95.07830672, -5.291856733), (95.07830672, -5.83989902), (96.269607213, -5.83989902), (96.269607213, -7.437727621), (95.07830672, -7.437727621), (95.07830672, -8.377469948), align=None)
        with Locations((76.21257855, -6.800117597)):
            Rectangle(SKETCH7_W_3, SKETCH7_H, mode=Mode.SUBTRACT)
    extrude(amount=SV4_B_3_DEPTH)


with BuildPart() as body_12:
    # Sketch7 → SV4_b 4 (new body)
    with BuildSketch(Plane.XZ.offset(5.68656)):
        Polygon((4.189336253, -6.147906886), (5.524337048, -6.147906886), (5.524337048, -5.438560322), (36.475691419, -5.438560322), (36.475691419, -6.147906886), (37.666991912, -6.147906886), (37.666991912, -7.745735487), (36.475691419, -7.745735487), (36.475691419, -8.524173538), (5.524337048, -8.524173538), (5.524337048, -7.745735487), (4.189336253, -7.745735487), align=None)
        with Locations((21.152985591, -6.946821187)):
            Rectangle(SKETCH7_W_2, SKETCH7_H, mode=Mode.SUBTRACT)
    extrude(amount=SV4_B_4_DEPTH)


solid = Compound([part_1.part, body_2_1.part, body_3_1.part, body_4_1.part, body_5.part, body_6.part, body_7.part, body_8.part, body_9.part, body_10.part, body_11.part, body_12.part])
